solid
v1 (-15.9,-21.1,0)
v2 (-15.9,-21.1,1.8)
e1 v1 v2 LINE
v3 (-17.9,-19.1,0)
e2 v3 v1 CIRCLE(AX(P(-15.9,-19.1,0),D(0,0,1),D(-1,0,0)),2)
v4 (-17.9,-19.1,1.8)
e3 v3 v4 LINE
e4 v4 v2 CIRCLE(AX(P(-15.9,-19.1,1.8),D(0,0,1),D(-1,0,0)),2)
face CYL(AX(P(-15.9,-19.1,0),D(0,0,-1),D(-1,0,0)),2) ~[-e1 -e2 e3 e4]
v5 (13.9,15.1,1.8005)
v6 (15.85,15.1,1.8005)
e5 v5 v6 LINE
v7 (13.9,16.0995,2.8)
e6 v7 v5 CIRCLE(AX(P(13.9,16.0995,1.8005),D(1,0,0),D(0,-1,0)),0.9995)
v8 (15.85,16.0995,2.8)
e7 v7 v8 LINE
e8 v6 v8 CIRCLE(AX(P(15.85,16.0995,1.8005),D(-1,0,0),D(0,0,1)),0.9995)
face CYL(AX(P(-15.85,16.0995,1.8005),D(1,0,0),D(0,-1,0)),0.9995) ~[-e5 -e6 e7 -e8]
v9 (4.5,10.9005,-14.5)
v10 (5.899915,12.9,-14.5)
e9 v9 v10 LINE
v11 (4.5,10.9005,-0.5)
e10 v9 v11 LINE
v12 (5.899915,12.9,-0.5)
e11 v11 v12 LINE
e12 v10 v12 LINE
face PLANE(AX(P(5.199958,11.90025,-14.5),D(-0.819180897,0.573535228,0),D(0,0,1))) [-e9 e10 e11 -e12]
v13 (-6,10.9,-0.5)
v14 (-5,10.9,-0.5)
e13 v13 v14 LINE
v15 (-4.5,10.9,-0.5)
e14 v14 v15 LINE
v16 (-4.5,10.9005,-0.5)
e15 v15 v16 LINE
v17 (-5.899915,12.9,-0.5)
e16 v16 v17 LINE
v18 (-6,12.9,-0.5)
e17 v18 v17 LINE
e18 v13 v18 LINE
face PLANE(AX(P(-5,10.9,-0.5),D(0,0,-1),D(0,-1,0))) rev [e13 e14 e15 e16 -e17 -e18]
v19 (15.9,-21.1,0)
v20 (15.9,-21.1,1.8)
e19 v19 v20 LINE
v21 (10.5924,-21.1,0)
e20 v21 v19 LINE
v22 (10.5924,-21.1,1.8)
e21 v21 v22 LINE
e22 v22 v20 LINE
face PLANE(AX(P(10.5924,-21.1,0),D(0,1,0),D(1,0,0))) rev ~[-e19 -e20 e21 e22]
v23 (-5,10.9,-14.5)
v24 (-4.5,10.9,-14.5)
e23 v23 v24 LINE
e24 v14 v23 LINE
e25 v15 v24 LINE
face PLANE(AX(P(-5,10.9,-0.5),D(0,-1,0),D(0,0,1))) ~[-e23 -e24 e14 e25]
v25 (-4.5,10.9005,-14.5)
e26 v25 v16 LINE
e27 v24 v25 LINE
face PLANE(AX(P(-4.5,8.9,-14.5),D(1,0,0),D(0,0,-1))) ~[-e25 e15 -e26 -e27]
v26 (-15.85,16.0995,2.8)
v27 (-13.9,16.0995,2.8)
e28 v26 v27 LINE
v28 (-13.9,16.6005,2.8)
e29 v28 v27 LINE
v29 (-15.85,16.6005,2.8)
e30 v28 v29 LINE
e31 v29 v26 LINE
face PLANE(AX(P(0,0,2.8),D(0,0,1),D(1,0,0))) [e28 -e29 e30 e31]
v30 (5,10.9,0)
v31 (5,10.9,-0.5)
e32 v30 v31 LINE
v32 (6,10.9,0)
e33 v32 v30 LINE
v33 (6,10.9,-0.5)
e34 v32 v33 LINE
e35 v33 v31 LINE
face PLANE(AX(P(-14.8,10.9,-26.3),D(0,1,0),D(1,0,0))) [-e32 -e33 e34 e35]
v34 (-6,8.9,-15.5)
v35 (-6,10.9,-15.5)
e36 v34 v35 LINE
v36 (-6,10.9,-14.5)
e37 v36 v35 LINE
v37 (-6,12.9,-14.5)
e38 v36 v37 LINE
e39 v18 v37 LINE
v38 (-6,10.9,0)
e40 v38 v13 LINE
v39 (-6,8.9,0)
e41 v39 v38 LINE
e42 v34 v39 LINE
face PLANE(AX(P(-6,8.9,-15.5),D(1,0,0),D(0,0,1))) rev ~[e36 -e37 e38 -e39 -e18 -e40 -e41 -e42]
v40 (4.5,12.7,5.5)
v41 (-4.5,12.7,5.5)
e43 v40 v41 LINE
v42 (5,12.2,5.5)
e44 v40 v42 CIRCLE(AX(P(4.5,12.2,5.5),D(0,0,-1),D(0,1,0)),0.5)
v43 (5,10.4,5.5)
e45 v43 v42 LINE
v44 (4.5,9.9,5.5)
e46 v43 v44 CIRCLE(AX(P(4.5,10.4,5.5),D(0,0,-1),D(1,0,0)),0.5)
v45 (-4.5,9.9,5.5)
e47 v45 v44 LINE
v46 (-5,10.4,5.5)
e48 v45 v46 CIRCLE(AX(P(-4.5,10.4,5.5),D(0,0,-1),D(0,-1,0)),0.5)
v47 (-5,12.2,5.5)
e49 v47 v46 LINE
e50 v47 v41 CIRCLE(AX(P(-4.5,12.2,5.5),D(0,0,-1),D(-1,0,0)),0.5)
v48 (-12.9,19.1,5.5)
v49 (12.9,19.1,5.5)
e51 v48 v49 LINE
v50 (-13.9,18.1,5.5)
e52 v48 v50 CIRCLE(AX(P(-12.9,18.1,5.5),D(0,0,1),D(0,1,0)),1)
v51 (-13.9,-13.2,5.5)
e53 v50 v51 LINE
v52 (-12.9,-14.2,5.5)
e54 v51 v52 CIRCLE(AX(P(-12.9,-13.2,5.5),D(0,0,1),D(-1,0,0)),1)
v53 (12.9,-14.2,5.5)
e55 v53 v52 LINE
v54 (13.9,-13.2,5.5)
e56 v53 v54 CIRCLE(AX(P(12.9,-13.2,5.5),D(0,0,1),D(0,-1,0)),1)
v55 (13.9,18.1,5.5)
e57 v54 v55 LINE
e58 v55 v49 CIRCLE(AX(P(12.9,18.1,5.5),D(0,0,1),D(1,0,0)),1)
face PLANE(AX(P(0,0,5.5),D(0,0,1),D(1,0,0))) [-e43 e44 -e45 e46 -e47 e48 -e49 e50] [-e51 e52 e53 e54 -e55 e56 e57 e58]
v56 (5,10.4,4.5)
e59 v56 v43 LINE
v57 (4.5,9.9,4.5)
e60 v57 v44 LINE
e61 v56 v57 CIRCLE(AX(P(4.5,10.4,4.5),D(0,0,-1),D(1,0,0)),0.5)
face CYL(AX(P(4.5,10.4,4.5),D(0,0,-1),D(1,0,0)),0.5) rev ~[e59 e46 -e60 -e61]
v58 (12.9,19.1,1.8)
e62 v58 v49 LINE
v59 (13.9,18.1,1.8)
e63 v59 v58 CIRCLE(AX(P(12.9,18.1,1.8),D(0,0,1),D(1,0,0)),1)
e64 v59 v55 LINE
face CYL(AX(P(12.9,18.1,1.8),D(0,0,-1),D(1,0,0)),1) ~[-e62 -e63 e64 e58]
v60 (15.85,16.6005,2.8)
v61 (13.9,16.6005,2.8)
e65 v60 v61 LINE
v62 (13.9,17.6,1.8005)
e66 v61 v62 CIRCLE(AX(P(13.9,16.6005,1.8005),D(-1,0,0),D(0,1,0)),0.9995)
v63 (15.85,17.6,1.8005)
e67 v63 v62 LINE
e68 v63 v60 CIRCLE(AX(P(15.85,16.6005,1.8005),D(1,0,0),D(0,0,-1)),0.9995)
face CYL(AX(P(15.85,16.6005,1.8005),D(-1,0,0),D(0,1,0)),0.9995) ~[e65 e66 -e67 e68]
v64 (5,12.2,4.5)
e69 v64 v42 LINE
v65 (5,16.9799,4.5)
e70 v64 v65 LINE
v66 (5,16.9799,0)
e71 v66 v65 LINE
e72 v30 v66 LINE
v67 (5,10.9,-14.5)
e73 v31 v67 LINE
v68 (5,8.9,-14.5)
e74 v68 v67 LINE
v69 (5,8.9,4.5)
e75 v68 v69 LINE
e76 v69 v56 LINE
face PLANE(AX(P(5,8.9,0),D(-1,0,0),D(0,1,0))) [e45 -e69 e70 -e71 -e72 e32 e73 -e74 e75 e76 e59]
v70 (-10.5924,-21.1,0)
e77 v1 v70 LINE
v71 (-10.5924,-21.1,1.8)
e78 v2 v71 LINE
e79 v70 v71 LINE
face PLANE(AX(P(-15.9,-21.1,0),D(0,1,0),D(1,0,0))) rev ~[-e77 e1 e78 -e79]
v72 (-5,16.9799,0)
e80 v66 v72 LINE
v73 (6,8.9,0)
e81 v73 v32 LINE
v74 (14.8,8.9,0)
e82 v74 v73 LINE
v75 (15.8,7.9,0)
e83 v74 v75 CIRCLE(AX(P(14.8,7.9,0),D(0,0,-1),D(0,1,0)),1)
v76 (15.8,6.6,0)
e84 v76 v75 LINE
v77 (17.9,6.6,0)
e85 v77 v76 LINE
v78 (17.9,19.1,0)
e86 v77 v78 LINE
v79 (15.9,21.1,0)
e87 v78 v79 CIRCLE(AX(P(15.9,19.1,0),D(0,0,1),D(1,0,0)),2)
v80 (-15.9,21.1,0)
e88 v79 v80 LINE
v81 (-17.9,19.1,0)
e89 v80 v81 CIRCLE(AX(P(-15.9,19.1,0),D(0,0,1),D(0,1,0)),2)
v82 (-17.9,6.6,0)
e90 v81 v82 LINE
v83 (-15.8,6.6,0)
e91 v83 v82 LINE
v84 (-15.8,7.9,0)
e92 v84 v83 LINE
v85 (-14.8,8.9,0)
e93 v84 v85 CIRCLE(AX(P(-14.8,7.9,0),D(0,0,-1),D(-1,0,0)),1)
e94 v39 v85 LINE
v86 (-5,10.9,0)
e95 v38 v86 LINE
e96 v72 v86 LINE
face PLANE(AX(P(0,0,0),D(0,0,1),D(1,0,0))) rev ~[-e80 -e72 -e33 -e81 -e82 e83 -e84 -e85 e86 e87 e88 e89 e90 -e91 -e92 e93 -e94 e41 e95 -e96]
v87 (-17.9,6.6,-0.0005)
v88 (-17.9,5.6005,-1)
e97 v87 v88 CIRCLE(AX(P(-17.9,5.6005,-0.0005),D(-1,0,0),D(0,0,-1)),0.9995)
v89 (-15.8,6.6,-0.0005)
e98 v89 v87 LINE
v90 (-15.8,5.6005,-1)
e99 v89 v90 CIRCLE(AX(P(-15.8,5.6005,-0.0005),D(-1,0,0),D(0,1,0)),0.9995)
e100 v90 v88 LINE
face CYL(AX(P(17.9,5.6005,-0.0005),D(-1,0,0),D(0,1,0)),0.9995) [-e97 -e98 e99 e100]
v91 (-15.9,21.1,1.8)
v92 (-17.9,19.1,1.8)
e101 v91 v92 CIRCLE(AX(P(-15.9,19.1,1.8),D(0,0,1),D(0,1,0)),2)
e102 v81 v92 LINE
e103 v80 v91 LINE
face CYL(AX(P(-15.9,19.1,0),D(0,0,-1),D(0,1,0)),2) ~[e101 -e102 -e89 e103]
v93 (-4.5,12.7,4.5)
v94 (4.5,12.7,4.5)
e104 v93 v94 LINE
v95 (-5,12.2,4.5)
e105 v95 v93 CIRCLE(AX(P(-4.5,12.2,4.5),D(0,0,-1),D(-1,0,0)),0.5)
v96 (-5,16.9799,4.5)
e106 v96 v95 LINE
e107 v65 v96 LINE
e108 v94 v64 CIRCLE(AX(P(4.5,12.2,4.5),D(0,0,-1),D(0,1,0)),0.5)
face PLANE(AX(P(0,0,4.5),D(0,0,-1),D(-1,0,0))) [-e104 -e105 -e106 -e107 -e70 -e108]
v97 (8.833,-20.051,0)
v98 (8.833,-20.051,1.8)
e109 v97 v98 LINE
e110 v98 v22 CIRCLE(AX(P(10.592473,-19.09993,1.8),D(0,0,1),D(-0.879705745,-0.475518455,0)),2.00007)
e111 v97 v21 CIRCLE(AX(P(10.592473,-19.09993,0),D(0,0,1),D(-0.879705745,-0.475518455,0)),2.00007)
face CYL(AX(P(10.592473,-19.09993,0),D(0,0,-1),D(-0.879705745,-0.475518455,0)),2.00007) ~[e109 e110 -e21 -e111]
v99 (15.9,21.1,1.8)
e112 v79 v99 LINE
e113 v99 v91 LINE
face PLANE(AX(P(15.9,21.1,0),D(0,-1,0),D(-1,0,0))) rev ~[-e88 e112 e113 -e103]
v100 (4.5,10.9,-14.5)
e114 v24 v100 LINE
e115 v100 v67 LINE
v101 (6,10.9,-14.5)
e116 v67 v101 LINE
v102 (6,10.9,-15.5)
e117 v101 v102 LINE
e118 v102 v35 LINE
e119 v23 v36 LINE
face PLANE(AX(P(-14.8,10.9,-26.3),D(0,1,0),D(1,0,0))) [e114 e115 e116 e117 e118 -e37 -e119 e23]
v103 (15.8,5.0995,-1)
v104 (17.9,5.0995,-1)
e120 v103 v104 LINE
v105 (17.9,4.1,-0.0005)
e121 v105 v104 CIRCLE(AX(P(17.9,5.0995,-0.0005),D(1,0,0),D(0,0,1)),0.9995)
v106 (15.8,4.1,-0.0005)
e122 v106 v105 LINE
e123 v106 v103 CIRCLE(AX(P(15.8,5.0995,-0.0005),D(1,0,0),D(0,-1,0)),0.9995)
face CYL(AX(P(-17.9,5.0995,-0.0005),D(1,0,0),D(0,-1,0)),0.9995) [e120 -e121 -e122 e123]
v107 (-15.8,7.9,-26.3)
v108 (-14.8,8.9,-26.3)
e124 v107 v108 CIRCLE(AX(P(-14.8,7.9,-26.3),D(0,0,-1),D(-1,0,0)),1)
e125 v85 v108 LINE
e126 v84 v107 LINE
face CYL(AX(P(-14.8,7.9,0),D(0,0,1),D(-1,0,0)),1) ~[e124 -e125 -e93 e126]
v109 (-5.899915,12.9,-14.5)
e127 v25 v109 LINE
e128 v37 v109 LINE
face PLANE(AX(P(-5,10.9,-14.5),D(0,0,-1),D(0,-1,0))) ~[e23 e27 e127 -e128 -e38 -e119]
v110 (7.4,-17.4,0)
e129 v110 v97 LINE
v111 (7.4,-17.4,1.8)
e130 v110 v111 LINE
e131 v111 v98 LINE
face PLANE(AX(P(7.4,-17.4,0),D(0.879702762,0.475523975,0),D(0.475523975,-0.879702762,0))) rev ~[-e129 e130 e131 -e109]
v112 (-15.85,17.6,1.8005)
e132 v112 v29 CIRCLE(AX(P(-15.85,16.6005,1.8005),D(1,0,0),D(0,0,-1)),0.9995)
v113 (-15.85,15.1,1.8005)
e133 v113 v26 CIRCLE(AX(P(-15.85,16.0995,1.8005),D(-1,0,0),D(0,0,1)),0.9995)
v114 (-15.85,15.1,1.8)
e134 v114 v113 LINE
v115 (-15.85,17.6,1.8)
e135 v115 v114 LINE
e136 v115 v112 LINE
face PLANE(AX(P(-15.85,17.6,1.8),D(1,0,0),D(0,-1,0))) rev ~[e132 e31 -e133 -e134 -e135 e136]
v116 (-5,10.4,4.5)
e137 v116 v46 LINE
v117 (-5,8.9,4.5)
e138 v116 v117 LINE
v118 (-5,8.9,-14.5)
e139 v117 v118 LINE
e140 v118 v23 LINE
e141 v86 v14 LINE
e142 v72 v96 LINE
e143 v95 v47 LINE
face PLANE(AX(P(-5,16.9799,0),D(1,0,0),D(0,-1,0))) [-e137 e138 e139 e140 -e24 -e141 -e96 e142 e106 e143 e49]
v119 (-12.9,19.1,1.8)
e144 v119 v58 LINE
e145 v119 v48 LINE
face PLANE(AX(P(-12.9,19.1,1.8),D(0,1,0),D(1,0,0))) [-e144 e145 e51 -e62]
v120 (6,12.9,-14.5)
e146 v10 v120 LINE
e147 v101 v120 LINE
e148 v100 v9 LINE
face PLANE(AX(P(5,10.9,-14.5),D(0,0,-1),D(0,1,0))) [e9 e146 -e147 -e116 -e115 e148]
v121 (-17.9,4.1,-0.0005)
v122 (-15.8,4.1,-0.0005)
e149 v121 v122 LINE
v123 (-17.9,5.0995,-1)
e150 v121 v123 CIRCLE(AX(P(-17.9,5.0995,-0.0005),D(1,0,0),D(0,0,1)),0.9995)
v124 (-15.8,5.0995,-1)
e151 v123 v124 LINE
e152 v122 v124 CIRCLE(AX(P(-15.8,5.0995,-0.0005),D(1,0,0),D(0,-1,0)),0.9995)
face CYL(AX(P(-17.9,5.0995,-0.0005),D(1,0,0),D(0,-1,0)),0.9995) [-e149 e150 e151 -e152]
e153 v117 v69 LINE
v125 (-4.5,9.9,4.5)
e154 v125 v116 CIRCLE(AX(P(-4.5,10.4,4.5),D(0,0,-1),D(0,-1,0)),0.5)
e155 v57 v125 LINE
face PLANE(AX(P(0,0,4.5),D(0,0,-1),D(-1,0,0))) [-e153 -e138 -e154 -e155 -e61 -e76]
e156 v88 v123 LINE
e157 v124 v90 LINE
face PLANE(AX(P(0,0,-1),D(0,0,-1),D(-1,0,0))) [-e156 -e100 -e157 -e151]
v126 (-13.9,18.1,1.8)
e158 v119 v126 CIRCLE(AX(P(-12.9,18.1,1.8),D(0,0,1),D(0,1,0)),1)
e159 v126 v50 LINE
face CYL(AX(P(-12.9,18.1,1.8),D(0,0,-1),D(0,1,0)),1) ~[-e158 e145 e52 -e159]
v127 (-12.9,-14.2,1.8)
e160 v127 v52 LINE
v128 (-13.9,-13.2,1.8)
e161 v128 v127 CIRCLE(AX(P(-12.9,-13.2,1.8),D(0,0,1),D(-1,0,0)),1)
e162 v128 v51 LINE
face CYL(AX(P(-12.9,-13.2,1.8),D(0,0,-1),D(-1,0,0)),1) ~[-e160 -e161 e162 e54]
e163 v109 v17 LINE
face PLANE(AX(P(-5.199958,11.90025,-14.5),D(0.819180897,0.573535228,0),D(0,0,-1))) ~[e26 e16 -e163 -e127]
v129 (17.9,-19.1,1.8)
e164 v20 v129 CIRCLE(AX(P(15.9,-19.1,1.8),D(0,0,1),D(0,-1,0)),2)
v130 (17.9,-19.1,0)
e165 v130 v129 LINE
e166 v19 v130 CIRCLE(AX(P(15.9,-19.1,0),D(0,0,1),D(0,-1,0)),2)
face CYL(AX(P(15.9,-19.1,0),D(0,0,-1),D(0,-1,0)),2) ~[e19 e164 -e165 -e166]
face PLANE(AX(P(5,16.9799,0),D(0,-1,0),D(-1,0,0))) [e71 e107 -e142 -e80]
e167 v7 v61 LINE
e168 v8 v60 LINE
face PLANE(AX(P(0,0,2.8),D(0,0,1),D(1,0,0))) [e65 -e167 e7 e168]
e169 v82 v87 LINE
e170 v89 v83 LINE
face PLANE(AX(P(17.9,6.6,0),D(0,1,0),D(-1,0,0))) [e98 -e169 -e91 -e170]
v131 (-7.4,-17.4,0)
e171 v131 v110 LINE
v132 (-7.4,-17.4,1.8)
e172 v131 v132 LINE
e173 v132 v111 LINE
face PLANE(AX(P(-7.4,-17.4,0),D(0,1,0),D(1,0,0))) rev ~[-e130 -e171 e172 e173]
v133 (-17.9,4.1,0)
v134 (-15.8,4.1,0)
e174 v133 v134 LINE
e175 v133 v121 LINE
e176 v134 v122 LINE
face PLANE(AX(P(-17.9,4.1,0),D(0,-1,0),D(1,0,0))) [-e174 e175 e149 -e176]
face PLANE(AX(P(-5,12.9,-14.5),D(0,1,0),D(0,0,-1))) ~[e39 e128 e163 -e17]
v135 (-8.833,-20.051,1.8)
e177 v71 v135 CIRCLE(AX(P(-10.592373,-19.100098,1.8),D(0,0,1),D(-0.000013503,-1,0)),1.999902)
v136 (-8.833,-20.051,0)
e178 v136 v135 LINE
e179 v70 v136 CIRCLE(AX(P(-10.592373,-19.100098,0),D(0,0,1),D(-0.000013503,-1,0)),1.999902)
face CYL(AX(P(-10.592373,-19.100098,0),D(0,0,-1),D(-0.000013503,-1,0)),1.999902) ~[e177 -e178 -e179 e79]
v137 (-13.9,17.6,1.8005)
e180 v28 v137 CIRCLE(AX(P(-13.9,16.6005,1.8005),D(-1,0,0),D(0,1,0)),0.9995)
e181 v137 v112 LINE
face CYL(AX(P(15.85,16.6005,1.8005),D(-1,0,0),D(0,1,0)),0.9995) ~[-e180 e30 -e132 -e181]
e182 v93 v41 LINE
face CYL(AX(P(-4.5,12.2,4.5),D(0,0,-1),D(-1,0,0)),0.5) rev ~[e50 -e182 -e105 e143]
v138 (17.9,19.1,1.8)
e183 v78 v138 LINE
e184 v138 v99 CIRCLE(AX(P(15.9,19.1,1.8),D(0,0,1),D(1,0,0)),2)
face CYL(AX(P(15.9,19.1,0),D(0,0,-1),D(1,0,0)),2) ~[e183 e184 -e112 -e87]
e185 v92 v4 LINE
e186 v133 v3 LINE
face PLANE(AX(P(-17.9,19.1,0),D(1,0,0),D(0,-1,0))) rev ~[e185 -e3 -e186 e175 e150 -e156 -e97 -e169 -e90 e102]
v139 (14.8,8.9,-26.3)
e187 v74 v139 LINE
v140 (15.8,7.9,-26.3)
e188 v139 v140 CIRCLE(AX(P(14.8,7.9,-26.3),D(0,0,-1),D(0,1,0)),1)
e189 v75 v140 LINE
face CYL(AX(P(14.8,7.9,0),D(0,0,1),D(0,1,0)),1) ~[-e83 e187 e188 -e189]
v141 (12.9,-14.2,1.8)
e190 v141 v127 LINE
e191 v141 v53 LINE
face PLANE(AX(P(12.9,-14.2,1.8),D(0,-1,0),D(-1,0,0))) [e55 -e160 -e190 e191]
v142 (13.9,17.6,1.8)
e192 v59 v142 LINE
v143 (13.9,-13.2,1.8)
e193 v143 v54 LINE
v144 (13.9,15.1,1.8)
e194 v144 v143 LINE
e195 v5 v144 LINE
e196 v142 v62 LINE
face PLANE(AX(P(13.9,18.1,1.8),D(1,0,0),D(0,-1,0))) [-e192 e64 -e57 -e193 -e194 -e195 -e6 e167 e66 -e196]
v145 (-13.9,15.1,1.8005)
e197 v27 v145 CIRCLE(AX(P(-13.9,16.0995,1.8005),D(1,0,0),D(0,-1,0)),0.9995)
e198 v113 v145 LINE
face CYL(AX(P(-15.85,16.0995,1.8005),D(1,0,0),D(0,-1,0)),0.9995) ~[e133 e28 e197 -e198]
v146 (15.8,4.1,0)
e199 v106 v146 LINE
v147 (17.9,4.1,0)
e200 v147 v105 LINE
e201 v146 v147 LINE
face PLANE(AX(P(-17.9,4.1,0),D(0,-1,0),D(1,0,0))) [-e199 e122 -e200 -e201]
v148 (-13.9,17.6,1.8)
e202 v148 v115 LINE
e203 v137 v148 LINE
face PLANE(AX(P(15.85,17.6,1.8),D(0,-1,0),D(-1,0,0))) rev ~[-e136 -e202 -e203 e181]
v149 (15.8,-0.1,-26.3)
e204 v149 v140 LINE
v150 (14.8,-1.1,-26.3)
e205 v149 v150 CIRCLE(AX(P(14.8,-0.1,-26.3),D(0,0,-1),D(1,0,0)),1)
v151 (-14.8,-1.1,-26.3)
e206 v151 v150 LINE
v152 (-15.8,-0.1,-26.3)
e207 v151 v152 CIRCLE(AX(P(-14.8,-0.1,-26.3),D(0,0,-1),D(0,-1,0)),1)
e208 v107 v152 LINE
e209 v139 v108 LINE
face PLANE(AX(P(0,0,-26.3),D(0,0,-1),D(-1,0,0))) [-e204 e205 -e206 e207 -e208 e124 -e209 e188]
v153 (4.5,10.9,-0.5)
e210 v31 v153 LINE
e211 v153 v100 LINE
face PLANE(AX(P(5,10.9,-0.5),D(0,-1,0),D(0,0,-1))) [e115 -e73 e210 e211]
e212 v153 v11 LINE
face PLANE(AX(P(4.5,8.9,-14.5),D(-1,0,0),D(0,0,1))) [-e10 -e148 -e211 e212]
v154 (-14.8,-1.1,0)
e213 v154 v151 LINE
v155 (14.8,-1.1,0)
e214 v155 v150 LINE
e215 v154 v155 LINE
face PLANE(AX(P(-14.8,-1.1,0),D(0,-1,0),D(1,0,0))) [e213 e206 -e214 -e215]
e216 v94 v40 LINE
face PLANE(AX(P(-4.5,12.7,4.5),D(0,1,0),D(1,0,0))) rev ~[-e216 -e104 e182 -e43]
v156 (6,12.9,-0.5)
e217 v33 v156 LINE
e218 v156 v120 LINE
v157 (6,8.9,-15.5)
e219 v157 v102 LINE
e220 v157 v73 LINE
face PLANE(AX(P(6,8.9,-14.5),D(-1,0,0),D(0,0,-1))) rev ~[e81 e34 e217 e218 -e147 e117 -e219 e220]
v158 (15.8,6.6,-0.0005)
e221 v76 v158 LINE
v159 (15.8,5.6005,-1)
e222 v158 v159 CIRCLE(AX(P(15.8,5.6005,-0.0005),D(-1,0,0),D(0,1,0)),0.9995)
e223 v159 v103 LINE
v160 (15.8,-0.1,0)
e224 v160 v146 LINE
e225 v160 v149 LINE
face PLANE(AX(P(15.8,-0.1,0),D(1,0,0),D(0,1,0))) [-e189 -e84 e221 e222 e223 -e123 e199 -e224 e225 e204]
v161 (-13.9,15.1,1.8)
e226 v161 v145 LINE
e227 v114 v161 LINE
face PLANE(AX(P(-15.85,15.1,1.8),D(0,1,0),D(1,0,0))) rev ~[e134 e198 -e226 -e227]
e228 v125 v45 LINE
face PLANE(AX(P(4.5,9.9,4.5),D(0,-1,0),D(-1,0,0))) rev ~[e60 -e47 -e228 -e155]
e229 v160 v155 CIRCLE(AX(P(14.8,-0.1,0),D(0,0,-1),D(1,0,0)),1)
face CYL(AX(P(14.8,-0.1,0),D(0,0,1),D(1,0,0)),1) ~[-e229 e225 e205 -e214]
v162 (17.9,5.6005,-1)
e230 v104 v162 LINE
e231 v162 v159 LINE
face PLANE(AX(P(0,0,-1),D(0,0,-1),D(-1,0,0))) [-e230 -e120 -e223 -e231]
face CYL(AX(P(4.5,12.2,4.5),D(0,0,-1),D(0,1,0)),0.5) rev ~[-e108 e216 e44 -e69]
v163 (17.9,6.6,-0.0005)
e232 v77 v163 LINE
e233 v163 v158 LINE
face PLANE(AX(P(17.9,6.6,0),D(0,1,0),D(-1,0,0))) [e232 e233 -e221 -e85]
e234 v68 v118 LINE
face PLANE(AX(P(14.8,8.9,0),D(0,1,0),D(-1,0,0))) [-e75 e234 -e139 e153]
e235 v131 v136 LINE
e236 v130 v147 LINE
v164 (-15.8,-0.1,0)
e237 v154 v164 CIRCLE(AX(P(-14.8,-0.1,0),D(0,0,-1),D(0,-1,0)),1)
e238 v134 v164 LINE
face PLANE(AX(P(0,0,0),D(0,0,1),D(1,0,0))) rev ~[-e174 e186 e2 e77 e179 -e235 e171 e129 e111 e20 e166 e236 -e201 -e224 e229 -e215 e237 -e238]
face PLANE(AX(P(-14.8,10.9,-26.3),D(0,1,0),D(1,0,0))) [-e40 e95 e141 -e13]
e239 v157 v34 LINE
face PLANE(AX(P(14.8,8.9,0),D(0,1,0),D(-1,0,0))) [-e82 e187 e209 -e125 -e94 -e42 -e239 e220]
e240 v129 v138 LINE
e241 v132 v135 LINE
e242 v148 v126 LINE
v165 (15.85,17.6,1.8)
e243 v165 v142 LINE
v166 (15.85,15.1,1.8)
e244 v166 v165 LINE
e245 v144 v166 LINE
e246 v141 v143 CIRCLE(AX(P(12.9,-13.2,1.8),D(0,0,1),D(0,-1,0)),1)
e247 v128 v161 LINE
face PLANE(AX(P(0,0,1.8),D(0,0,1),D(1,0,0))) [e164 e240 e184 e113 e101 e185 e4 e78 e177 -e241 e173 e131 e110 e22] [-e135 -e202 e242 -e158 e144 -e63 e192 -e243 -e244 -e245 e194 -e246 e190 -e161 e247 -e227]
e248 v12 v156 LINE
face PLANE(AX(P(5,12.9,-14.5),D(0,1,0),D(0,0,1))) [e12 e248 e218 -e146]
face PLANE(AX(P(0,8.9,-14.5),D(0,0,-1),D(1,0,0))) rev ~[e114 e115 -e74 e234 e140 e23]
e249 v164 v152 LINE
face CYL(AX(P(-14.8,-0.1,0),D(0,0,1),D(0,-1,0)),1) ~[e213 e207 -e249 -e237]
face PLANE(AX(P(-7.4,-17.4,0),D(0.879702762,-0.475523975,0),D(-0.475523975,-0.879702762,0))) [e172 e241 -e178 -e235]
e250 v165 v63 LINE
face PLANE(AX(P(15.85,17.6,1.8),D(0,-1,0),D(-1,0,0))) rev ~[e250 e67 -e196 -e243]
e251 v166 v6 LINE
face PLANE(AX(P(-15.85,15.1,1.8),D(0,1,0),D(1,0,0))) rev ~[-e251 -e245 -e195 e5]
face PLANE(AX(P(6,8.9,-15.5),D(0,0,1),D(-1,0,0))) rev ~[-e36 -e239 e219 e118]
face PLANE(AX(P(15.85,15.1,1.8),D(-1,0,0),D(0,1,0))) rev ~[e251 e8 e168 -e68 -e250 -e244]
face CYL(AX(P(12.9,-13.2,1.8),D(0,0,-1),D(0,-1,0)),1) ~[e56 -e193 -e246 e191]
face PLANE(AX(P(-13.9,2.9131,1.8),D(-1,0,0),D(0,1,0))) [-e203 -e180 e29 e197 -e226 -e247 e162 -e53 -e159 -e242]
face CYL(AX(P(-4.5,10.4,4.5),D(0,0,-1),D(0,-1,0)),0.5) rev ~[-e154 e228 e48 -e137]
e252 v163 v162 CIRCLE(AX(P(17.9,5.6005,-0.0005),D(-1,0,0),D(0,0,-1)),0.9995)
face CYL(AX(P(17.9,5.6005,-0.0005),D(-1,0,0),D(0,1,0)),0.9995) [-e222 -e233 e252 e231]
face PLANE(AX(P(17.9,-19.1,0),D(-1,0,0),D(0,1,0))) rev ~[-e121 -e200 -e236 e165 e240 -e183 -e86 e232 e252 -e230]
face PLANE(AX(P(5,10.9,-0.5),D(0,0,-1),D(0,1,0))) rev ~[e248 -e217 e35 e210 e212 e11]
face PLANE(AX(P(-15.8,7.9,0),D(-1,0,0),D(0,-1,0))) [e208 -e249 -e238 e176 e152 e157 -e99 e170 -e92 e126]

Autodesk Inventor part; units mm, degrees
ref_plane "YZ Plane" through (0, 0, 0) normal (1, 0, 0) x (0, 1, 0)
ref_plane "XZ Plane" through (0, 0, 0) normal (0, 1, 0) x (-1, 0, 0)
ref_plane "XY Plane" through (0, 0, 0) normal (0, 0, 1) x (1, 0, 0)
sketch "Sketch1" plane through (0, 0, 0) normal (0, 0, 1) x (1, 0, 0)
  line L0 (17.9, -19.1) -> (17.9, 19.1)
  line L1 (15.9, 21.1) -> (-15.9, 21.1)
  line L2 (-17.9, 19.1) -> (-17.9, -19.1)
  line L3 (-15.9, -21.1) -> (-10.5924, -21.1)
  line L4 (17.9, -21.1) -> (-17.9, 21.1) construction
  line L5 (17.9, 21.1) -> (-17.9, -21.1) construction
  line L6 (-7.4, -17.4) -> (7.4, -17.4)
  line L7 (-7.4, -17.4) -> (-8.833, -20.051)
  line L8 (7.4, -17.4) -> (8.833, -20.051)
  line L9 (10.5924, -21.1) -> (15.9, -21.1)
  line L10 (-9.4, -21.1) -> (9.4, -21.1)
  arc A0 (-15.9, 21.1) -> (-17.9, 19.1) centre (-15.9, 19.1) ccw
  arc A1 (17.9, 19.1) -> (15.9, 21.1) centre (15.9, 19.1) ccw
  arc A2 (15.9, -21.1) -> (17.9, -19.1) centre (15.9, -19.1) ccw
  arc A3 (8.833, -20.051) -> (10.5924, -21.1) centre (10.5924, -19.1) ccw
  arc A4 (-10.5924, -21.1) -> (-8.833, -20.051) centre (-10.5924, -19.1) ccw
  arc A5 (-17.9, -19.1) -> (-15.9, -21.1) centre (-15.9, -19.1) ccw
  point P0 (0, 0)
  dimension "d0" = 35.8
  dimension "d1" = 42.2
  dimension "d2" = 38.5
  dimension "d3" = 10.5
  dimension "d4" = 10.5
  dimension "d5" = 8.5
  dimension "d6" = 8.5
  dimension "d7" = 2
extrude "Extrusion1" add sketch "Sketch1" along normal blind 1.8
sketch "Sketch2" plane through (0, 0, 1.8) normal (0, 0, 1) x (1, 0, 0)
  line L0 (-15.85, 15.1) -> (15.85, 15.1)
  line L1 (15.85, 15.1) -> (15.85, 17.6)
  line L2 (15.85, 17.6) -> (-15.85, 17.6)
  line L3 (-15.85, 17.6) -> (-15.85, 15.1)
  line L4 (-15.85, 15.1) -> (15.85, 17.6) construction
  line L5 (15.85, 15.1) -> (-15.85, 17.6) construction
  line L6 (15.9, 21.1) -> (-15.9, 21.1) projected
  point P0 (0, 0)
  point P1 (0, 16.35)
  point P2 (0, 16.35)
  point P3 (15.85, 16.35)
  point P4 (-15.85, 16.35)
  dimension "d10" = 2.5
  dimension "d11" = 6
  dimension "d12" = 31.7
extrude "Extrusion2" add sketch "Sketch2" along normal blind 1
fillet "Fillet1" radius 1 2 edges at (0, 17.6, 2.8) (0, 15.1, 2.8)
sketch "Sketch3" plane through (0, 0, 1.8) normal (0, 0, 1) x (1, 0, 0)
  line L0 (-12.9, 19.1) -> (12.9, 19.1)
  line L1 (13.9, 18.1) -> (13.9, -13.2)
  line L2 (12.9, -14.2) -> (-12.9, -14.2)
  line L3 (-13.9, -13.2) -> (-13.9, 18.1)
  line L4 (15.9, 21.1) -> (-15.9, 21.1) projected
  line L5 (-13.9, 2.9131) -> (-17.9, 2.9131)
  line L6 (-17.9, 19.1) -> (-17.9, -19.1) projected
  line L7 (13.9, 2.9131) -> (17.9, 2.9131)
  line L8 (17.9, -19.1) -> (17.9, 19.1) projected
  arc A0 (-12.9, 19.1) -> (-13.9, 18.1) centre (-12.9, 18.1) ccw
  arc A1 (13.9, 18.1) -> (12.9, 19.1) centre (12.9, 18.1) ccw
  arc A2 (12.9, -14.2) -> (13.9, -13.2) centre (12.9, -13.2) ccw
  arc A3 (-13.9, -13.2) -> (-12.9, -14.2) centre (-12.9, -13.2) ccw
  point P0 (0, 0)
  point P1 (13.9, -14.2)
  point P2 (13.9, 19.1)
  point P3 (-13.9, -14.2)
  dimension "d16" = 27.8
  dimension "d17" = 33.3
  dimension "d18" = 2
  dimension "d19" = 1
extrude "Extrusion3" add sketch "Sketch3" along normal blind 3.7
sketch "Sketch4" plane through (0, 0, 0) normal (0, 0, -1) x (-1, 0, 0)
  line L0 (-17.9, -19.1) -> (-17.9, 19.1) projected
  line L1 (17.9, 19.1) -> (17.9, -19.1) projected
  line L2 (-17.9, 6.6) -> (17.9, 6.6)
  line L3 (17.9, 6.6) -> (17.9, 4.1)
  line L4 (17.9, 4.1) -> (-17.9, 4.1)
  line L5 (-17.9, 4.1) -> (-17.9, 6.6)
  line L6 (-15.9, 21.1) -> (15.9, 21.1) projected
  point P0 (0, 0)
  dimension "d22" = 2.5
  dimension "d23" = 17
extrude "Extrusion4" add sketch "Sketch4" along normal blind 1
fillet "Fillet2" radius 1 2 edges at (0, 6.6, -1) (0, 4.1, -1)
sketch "Sketch5" plane through (0, 0, 0) normal (0, 0, -1) x (-1, 0, 0)
  line L0 (-14.8, 8.9) -> (14.8, 8.9)
  line L1 (15.8, 7.9) -> (15.8, -0.1)
  line L2 (14.8, -1.1) -> (-14.8, -1.1)
  line L3 (-15.8, -0.1) -> (-15.8, 7.9)
  line L4 (-15.9, 21.1) -> (15.9, 21.1) projected
  line L5 (-17.9, 6.6) -> (-17.9, 19.1) projected
  line L6 (17.9, 4.1) -> (17.9, -19.1) projected
  arc A0 (-15.8, -0.1) -> (-14.8, -1.1) centre (-14.8, -0.1) ccw
  arc A1 (-14.8, 8.9) -> (-15.8, 7.9) centre (-14.8, 7.9) ccw
  arc A2 (15.8, 7.9) -> (14.8, 8.9) centre (14.8, 7.9) ccw
  arc A3 (14.8, -1.1) -> (15.8, -0.1) centre (14.8, -0.1) ccw
  point P0 (0, 0)
  point P1 (0, 8.9)
  dimension "d27" = 22.2
  dimension "d28" = 2.1
  dimension "d29" = 10
  dimension "d30" = 2.1
  dimension "d31" = 1
extrude "Extrusion5" add sketch "Sketch5" along normal blind 26.3
sketch "Sketch6" plane through (0, 0, 0) normal (0, 0, -1) x (-1, 0, 0)
  line L0 (-5, 16.9799) -> (5, 16.9799)
  line L1 (5, 16.9799) -> (5, 8.9)
  line L2 (5, 8.9) -> (-5, 8.9)
  line L3 (-5, 8.9) -> (-5, 16.9799)
  line L4 (14.8, 8.9) -> (-14.8, 8.9) projected
  line L5 (5, 16.9799) -> (17.9, 16.9799)
  line L6 (17.9, 19.1) -> (17.9, 6.6) projected
  line L7 (-5, 16.9799) -> (-17.9, 16.9799)
  line L8 (-17.9, -19.1) -> (-17.9, 19.1) projected
  point P0 (0, 0)
  point P1 (-5, 12.94)
  dimension "d34" = 10
extrude "Extrusion6" cut sketch "Sketch6" against normal blind 4.5
sketch "Sketch7" plane through (-14.8, 8.9, -26.3) normal (0, 1, 0) x (1, 0, 0)
  line L0 (9.8, -30.8) -> (19.8, -30.8) projected
  line L1 (14.8, -30.8) -> (14.8, -11.8)
  line L2 (8.8, -11.8) -> (20.8, -11.8)
  line L3 (20.8, -11.8) -> (20.8, -10.8)
  line L4 (20.8, -10.8) -> (8.8, -10.8)
  line L5 (8.8, -10.8) -> (8.8, -11.8)
  line L6 (20.8, -11.8) -> (20.8, -26.3)
  line L7 (20.8, -26.3) -> (19.8, -26.3)
  line L8 (19.8, -26.3) -> (19.8, -11.8)
  line L9 (8.8, -11.8) -> (8.8, -26.3)
  line L10 (8.8, -26.3) -> (9.8, -26.3)
  line L11 (9.8, -26.3) -> (9.8, -11.8)
  point P0 (14.8, -26.3)
  dimension "d37" = 19
  dimension "d38" = 12
  dimension "d39" = 1
  dimension "d40" = 1
  dimension "d41" = 14.5
extrude "Extrusion7" add sketch "Sketch7" along normal blind 2
sketch "Sketch8" plane through (-14.8, 10.9, -26.3) normal (0, 1, 0) x (1, 0, 0)
  line L0 (9.8, -11.8) -> (19.8, -11.8) projected
  line L1 (20.8, -26.3) -> (20.8, -10.8) projected
  line L2 (19.8, -11.8) -> (20.8, -11.8)
  line L3 (20.8, -11.8) -> (20.8, -25.8)
  line L4 (20.8, -25.8) -> (19.8, -25.8)
  line L5 (19.8, -25.8) -> (19.8, -11.8)
  line L6 (9.8, -11.8) -> (9.8, -30.8) projected
  line L7 (8.8, -26.3) -> (8.8, -10.8) projected
  line L8 (9.8, -11.8) -> (8.8, -11.8)
  line L9 (8.8, -11.8) -> (8.8, -25.8)
  line L10 (8.8, -25.8) -> (9.8, -25.8)
  line L11 (9.8, -25.8) -> (9.8, -11.8)
  point P0 (14.8, -26.3)
  point P1 (9.8, -25.8)
  point P2 (9.8, -25.8)
extrude "Extrusion8" add sketch "Sketch8" along normal blind 2
sketch "Sketch9" plane through (5, 8.9, -14.5) normal (-1, 0, 0) x (0, 0, 1)
  line L0 (0, 2) -> (0, 4) projected
  line L1 (14, 0) -> (14, 4) projected
  line L2 (0, 4) -> (14, 4)
  line L3 (14, 4) -> (14, 2)
  line L4 (14, 2) -> (0, 2)
  line L5 (0, 2) -> (0, 4)
  point P0 (14.5, -8.9)
  point P1 (0, 2)
extrude "Extrusion9" add sketch "Sketch9" along normal blind 0.5
chamfer "Chamfer1" distance 2 angle 35 1 edges at (4.5, 12.9, -7.5) measured on face at (4.5, 11.5667, -5.1667)
mirror "Mirror1" about plane through (0, 0, 0) normal (1, 0, 0) of "Extrusion9", "Chamfer1"
sketch "Sketch10" plane through (0, 0, 4.5) normal (0, 0, -1) x (-1, 0, 0)
  line L0 (-4.5, 9.9) -> (4.5, 9.9)
  line L1 (5, 10.4) -> (5, 12.2)
  line L2 (4.5, 12.7) -> (-4.5, 12.7)
  line L3 (-5, 12.2) -> (-5, 10.4)
  line L4 (5, 8.9) -> (-5, 8.9) projected
  line L5 (-5, 8.9) -> (-5, 16.9799) projected
  arc A0 (-5, 10.4) -> (-4.5, 9.9) centre (-4.5, 10.4) ccw
  arc A1 (-4.5, 12.7) -> (-5, 12.2) centre (-4.5, 12.2) ccw
  arc A2 (5, 12.2) -> (4.5, 12.7) centre (4.5, 12.2) ccw
  arc A3 (4.5, 9.9) -> (5, 10.4) centre (4.5, 10.4) ccw
  point P0 (0, 0)
  point P1 (-5, 11.3)
  dimension "d51" = 1
  dimension "d52" = 10
  dimension "d53" = 0.5
  dimension "d54" = 2.8
extrude "Extrusion10" cut sketch "Sketch10" against normal blind 2
properties part number "PS2 USB C PD Mount"
